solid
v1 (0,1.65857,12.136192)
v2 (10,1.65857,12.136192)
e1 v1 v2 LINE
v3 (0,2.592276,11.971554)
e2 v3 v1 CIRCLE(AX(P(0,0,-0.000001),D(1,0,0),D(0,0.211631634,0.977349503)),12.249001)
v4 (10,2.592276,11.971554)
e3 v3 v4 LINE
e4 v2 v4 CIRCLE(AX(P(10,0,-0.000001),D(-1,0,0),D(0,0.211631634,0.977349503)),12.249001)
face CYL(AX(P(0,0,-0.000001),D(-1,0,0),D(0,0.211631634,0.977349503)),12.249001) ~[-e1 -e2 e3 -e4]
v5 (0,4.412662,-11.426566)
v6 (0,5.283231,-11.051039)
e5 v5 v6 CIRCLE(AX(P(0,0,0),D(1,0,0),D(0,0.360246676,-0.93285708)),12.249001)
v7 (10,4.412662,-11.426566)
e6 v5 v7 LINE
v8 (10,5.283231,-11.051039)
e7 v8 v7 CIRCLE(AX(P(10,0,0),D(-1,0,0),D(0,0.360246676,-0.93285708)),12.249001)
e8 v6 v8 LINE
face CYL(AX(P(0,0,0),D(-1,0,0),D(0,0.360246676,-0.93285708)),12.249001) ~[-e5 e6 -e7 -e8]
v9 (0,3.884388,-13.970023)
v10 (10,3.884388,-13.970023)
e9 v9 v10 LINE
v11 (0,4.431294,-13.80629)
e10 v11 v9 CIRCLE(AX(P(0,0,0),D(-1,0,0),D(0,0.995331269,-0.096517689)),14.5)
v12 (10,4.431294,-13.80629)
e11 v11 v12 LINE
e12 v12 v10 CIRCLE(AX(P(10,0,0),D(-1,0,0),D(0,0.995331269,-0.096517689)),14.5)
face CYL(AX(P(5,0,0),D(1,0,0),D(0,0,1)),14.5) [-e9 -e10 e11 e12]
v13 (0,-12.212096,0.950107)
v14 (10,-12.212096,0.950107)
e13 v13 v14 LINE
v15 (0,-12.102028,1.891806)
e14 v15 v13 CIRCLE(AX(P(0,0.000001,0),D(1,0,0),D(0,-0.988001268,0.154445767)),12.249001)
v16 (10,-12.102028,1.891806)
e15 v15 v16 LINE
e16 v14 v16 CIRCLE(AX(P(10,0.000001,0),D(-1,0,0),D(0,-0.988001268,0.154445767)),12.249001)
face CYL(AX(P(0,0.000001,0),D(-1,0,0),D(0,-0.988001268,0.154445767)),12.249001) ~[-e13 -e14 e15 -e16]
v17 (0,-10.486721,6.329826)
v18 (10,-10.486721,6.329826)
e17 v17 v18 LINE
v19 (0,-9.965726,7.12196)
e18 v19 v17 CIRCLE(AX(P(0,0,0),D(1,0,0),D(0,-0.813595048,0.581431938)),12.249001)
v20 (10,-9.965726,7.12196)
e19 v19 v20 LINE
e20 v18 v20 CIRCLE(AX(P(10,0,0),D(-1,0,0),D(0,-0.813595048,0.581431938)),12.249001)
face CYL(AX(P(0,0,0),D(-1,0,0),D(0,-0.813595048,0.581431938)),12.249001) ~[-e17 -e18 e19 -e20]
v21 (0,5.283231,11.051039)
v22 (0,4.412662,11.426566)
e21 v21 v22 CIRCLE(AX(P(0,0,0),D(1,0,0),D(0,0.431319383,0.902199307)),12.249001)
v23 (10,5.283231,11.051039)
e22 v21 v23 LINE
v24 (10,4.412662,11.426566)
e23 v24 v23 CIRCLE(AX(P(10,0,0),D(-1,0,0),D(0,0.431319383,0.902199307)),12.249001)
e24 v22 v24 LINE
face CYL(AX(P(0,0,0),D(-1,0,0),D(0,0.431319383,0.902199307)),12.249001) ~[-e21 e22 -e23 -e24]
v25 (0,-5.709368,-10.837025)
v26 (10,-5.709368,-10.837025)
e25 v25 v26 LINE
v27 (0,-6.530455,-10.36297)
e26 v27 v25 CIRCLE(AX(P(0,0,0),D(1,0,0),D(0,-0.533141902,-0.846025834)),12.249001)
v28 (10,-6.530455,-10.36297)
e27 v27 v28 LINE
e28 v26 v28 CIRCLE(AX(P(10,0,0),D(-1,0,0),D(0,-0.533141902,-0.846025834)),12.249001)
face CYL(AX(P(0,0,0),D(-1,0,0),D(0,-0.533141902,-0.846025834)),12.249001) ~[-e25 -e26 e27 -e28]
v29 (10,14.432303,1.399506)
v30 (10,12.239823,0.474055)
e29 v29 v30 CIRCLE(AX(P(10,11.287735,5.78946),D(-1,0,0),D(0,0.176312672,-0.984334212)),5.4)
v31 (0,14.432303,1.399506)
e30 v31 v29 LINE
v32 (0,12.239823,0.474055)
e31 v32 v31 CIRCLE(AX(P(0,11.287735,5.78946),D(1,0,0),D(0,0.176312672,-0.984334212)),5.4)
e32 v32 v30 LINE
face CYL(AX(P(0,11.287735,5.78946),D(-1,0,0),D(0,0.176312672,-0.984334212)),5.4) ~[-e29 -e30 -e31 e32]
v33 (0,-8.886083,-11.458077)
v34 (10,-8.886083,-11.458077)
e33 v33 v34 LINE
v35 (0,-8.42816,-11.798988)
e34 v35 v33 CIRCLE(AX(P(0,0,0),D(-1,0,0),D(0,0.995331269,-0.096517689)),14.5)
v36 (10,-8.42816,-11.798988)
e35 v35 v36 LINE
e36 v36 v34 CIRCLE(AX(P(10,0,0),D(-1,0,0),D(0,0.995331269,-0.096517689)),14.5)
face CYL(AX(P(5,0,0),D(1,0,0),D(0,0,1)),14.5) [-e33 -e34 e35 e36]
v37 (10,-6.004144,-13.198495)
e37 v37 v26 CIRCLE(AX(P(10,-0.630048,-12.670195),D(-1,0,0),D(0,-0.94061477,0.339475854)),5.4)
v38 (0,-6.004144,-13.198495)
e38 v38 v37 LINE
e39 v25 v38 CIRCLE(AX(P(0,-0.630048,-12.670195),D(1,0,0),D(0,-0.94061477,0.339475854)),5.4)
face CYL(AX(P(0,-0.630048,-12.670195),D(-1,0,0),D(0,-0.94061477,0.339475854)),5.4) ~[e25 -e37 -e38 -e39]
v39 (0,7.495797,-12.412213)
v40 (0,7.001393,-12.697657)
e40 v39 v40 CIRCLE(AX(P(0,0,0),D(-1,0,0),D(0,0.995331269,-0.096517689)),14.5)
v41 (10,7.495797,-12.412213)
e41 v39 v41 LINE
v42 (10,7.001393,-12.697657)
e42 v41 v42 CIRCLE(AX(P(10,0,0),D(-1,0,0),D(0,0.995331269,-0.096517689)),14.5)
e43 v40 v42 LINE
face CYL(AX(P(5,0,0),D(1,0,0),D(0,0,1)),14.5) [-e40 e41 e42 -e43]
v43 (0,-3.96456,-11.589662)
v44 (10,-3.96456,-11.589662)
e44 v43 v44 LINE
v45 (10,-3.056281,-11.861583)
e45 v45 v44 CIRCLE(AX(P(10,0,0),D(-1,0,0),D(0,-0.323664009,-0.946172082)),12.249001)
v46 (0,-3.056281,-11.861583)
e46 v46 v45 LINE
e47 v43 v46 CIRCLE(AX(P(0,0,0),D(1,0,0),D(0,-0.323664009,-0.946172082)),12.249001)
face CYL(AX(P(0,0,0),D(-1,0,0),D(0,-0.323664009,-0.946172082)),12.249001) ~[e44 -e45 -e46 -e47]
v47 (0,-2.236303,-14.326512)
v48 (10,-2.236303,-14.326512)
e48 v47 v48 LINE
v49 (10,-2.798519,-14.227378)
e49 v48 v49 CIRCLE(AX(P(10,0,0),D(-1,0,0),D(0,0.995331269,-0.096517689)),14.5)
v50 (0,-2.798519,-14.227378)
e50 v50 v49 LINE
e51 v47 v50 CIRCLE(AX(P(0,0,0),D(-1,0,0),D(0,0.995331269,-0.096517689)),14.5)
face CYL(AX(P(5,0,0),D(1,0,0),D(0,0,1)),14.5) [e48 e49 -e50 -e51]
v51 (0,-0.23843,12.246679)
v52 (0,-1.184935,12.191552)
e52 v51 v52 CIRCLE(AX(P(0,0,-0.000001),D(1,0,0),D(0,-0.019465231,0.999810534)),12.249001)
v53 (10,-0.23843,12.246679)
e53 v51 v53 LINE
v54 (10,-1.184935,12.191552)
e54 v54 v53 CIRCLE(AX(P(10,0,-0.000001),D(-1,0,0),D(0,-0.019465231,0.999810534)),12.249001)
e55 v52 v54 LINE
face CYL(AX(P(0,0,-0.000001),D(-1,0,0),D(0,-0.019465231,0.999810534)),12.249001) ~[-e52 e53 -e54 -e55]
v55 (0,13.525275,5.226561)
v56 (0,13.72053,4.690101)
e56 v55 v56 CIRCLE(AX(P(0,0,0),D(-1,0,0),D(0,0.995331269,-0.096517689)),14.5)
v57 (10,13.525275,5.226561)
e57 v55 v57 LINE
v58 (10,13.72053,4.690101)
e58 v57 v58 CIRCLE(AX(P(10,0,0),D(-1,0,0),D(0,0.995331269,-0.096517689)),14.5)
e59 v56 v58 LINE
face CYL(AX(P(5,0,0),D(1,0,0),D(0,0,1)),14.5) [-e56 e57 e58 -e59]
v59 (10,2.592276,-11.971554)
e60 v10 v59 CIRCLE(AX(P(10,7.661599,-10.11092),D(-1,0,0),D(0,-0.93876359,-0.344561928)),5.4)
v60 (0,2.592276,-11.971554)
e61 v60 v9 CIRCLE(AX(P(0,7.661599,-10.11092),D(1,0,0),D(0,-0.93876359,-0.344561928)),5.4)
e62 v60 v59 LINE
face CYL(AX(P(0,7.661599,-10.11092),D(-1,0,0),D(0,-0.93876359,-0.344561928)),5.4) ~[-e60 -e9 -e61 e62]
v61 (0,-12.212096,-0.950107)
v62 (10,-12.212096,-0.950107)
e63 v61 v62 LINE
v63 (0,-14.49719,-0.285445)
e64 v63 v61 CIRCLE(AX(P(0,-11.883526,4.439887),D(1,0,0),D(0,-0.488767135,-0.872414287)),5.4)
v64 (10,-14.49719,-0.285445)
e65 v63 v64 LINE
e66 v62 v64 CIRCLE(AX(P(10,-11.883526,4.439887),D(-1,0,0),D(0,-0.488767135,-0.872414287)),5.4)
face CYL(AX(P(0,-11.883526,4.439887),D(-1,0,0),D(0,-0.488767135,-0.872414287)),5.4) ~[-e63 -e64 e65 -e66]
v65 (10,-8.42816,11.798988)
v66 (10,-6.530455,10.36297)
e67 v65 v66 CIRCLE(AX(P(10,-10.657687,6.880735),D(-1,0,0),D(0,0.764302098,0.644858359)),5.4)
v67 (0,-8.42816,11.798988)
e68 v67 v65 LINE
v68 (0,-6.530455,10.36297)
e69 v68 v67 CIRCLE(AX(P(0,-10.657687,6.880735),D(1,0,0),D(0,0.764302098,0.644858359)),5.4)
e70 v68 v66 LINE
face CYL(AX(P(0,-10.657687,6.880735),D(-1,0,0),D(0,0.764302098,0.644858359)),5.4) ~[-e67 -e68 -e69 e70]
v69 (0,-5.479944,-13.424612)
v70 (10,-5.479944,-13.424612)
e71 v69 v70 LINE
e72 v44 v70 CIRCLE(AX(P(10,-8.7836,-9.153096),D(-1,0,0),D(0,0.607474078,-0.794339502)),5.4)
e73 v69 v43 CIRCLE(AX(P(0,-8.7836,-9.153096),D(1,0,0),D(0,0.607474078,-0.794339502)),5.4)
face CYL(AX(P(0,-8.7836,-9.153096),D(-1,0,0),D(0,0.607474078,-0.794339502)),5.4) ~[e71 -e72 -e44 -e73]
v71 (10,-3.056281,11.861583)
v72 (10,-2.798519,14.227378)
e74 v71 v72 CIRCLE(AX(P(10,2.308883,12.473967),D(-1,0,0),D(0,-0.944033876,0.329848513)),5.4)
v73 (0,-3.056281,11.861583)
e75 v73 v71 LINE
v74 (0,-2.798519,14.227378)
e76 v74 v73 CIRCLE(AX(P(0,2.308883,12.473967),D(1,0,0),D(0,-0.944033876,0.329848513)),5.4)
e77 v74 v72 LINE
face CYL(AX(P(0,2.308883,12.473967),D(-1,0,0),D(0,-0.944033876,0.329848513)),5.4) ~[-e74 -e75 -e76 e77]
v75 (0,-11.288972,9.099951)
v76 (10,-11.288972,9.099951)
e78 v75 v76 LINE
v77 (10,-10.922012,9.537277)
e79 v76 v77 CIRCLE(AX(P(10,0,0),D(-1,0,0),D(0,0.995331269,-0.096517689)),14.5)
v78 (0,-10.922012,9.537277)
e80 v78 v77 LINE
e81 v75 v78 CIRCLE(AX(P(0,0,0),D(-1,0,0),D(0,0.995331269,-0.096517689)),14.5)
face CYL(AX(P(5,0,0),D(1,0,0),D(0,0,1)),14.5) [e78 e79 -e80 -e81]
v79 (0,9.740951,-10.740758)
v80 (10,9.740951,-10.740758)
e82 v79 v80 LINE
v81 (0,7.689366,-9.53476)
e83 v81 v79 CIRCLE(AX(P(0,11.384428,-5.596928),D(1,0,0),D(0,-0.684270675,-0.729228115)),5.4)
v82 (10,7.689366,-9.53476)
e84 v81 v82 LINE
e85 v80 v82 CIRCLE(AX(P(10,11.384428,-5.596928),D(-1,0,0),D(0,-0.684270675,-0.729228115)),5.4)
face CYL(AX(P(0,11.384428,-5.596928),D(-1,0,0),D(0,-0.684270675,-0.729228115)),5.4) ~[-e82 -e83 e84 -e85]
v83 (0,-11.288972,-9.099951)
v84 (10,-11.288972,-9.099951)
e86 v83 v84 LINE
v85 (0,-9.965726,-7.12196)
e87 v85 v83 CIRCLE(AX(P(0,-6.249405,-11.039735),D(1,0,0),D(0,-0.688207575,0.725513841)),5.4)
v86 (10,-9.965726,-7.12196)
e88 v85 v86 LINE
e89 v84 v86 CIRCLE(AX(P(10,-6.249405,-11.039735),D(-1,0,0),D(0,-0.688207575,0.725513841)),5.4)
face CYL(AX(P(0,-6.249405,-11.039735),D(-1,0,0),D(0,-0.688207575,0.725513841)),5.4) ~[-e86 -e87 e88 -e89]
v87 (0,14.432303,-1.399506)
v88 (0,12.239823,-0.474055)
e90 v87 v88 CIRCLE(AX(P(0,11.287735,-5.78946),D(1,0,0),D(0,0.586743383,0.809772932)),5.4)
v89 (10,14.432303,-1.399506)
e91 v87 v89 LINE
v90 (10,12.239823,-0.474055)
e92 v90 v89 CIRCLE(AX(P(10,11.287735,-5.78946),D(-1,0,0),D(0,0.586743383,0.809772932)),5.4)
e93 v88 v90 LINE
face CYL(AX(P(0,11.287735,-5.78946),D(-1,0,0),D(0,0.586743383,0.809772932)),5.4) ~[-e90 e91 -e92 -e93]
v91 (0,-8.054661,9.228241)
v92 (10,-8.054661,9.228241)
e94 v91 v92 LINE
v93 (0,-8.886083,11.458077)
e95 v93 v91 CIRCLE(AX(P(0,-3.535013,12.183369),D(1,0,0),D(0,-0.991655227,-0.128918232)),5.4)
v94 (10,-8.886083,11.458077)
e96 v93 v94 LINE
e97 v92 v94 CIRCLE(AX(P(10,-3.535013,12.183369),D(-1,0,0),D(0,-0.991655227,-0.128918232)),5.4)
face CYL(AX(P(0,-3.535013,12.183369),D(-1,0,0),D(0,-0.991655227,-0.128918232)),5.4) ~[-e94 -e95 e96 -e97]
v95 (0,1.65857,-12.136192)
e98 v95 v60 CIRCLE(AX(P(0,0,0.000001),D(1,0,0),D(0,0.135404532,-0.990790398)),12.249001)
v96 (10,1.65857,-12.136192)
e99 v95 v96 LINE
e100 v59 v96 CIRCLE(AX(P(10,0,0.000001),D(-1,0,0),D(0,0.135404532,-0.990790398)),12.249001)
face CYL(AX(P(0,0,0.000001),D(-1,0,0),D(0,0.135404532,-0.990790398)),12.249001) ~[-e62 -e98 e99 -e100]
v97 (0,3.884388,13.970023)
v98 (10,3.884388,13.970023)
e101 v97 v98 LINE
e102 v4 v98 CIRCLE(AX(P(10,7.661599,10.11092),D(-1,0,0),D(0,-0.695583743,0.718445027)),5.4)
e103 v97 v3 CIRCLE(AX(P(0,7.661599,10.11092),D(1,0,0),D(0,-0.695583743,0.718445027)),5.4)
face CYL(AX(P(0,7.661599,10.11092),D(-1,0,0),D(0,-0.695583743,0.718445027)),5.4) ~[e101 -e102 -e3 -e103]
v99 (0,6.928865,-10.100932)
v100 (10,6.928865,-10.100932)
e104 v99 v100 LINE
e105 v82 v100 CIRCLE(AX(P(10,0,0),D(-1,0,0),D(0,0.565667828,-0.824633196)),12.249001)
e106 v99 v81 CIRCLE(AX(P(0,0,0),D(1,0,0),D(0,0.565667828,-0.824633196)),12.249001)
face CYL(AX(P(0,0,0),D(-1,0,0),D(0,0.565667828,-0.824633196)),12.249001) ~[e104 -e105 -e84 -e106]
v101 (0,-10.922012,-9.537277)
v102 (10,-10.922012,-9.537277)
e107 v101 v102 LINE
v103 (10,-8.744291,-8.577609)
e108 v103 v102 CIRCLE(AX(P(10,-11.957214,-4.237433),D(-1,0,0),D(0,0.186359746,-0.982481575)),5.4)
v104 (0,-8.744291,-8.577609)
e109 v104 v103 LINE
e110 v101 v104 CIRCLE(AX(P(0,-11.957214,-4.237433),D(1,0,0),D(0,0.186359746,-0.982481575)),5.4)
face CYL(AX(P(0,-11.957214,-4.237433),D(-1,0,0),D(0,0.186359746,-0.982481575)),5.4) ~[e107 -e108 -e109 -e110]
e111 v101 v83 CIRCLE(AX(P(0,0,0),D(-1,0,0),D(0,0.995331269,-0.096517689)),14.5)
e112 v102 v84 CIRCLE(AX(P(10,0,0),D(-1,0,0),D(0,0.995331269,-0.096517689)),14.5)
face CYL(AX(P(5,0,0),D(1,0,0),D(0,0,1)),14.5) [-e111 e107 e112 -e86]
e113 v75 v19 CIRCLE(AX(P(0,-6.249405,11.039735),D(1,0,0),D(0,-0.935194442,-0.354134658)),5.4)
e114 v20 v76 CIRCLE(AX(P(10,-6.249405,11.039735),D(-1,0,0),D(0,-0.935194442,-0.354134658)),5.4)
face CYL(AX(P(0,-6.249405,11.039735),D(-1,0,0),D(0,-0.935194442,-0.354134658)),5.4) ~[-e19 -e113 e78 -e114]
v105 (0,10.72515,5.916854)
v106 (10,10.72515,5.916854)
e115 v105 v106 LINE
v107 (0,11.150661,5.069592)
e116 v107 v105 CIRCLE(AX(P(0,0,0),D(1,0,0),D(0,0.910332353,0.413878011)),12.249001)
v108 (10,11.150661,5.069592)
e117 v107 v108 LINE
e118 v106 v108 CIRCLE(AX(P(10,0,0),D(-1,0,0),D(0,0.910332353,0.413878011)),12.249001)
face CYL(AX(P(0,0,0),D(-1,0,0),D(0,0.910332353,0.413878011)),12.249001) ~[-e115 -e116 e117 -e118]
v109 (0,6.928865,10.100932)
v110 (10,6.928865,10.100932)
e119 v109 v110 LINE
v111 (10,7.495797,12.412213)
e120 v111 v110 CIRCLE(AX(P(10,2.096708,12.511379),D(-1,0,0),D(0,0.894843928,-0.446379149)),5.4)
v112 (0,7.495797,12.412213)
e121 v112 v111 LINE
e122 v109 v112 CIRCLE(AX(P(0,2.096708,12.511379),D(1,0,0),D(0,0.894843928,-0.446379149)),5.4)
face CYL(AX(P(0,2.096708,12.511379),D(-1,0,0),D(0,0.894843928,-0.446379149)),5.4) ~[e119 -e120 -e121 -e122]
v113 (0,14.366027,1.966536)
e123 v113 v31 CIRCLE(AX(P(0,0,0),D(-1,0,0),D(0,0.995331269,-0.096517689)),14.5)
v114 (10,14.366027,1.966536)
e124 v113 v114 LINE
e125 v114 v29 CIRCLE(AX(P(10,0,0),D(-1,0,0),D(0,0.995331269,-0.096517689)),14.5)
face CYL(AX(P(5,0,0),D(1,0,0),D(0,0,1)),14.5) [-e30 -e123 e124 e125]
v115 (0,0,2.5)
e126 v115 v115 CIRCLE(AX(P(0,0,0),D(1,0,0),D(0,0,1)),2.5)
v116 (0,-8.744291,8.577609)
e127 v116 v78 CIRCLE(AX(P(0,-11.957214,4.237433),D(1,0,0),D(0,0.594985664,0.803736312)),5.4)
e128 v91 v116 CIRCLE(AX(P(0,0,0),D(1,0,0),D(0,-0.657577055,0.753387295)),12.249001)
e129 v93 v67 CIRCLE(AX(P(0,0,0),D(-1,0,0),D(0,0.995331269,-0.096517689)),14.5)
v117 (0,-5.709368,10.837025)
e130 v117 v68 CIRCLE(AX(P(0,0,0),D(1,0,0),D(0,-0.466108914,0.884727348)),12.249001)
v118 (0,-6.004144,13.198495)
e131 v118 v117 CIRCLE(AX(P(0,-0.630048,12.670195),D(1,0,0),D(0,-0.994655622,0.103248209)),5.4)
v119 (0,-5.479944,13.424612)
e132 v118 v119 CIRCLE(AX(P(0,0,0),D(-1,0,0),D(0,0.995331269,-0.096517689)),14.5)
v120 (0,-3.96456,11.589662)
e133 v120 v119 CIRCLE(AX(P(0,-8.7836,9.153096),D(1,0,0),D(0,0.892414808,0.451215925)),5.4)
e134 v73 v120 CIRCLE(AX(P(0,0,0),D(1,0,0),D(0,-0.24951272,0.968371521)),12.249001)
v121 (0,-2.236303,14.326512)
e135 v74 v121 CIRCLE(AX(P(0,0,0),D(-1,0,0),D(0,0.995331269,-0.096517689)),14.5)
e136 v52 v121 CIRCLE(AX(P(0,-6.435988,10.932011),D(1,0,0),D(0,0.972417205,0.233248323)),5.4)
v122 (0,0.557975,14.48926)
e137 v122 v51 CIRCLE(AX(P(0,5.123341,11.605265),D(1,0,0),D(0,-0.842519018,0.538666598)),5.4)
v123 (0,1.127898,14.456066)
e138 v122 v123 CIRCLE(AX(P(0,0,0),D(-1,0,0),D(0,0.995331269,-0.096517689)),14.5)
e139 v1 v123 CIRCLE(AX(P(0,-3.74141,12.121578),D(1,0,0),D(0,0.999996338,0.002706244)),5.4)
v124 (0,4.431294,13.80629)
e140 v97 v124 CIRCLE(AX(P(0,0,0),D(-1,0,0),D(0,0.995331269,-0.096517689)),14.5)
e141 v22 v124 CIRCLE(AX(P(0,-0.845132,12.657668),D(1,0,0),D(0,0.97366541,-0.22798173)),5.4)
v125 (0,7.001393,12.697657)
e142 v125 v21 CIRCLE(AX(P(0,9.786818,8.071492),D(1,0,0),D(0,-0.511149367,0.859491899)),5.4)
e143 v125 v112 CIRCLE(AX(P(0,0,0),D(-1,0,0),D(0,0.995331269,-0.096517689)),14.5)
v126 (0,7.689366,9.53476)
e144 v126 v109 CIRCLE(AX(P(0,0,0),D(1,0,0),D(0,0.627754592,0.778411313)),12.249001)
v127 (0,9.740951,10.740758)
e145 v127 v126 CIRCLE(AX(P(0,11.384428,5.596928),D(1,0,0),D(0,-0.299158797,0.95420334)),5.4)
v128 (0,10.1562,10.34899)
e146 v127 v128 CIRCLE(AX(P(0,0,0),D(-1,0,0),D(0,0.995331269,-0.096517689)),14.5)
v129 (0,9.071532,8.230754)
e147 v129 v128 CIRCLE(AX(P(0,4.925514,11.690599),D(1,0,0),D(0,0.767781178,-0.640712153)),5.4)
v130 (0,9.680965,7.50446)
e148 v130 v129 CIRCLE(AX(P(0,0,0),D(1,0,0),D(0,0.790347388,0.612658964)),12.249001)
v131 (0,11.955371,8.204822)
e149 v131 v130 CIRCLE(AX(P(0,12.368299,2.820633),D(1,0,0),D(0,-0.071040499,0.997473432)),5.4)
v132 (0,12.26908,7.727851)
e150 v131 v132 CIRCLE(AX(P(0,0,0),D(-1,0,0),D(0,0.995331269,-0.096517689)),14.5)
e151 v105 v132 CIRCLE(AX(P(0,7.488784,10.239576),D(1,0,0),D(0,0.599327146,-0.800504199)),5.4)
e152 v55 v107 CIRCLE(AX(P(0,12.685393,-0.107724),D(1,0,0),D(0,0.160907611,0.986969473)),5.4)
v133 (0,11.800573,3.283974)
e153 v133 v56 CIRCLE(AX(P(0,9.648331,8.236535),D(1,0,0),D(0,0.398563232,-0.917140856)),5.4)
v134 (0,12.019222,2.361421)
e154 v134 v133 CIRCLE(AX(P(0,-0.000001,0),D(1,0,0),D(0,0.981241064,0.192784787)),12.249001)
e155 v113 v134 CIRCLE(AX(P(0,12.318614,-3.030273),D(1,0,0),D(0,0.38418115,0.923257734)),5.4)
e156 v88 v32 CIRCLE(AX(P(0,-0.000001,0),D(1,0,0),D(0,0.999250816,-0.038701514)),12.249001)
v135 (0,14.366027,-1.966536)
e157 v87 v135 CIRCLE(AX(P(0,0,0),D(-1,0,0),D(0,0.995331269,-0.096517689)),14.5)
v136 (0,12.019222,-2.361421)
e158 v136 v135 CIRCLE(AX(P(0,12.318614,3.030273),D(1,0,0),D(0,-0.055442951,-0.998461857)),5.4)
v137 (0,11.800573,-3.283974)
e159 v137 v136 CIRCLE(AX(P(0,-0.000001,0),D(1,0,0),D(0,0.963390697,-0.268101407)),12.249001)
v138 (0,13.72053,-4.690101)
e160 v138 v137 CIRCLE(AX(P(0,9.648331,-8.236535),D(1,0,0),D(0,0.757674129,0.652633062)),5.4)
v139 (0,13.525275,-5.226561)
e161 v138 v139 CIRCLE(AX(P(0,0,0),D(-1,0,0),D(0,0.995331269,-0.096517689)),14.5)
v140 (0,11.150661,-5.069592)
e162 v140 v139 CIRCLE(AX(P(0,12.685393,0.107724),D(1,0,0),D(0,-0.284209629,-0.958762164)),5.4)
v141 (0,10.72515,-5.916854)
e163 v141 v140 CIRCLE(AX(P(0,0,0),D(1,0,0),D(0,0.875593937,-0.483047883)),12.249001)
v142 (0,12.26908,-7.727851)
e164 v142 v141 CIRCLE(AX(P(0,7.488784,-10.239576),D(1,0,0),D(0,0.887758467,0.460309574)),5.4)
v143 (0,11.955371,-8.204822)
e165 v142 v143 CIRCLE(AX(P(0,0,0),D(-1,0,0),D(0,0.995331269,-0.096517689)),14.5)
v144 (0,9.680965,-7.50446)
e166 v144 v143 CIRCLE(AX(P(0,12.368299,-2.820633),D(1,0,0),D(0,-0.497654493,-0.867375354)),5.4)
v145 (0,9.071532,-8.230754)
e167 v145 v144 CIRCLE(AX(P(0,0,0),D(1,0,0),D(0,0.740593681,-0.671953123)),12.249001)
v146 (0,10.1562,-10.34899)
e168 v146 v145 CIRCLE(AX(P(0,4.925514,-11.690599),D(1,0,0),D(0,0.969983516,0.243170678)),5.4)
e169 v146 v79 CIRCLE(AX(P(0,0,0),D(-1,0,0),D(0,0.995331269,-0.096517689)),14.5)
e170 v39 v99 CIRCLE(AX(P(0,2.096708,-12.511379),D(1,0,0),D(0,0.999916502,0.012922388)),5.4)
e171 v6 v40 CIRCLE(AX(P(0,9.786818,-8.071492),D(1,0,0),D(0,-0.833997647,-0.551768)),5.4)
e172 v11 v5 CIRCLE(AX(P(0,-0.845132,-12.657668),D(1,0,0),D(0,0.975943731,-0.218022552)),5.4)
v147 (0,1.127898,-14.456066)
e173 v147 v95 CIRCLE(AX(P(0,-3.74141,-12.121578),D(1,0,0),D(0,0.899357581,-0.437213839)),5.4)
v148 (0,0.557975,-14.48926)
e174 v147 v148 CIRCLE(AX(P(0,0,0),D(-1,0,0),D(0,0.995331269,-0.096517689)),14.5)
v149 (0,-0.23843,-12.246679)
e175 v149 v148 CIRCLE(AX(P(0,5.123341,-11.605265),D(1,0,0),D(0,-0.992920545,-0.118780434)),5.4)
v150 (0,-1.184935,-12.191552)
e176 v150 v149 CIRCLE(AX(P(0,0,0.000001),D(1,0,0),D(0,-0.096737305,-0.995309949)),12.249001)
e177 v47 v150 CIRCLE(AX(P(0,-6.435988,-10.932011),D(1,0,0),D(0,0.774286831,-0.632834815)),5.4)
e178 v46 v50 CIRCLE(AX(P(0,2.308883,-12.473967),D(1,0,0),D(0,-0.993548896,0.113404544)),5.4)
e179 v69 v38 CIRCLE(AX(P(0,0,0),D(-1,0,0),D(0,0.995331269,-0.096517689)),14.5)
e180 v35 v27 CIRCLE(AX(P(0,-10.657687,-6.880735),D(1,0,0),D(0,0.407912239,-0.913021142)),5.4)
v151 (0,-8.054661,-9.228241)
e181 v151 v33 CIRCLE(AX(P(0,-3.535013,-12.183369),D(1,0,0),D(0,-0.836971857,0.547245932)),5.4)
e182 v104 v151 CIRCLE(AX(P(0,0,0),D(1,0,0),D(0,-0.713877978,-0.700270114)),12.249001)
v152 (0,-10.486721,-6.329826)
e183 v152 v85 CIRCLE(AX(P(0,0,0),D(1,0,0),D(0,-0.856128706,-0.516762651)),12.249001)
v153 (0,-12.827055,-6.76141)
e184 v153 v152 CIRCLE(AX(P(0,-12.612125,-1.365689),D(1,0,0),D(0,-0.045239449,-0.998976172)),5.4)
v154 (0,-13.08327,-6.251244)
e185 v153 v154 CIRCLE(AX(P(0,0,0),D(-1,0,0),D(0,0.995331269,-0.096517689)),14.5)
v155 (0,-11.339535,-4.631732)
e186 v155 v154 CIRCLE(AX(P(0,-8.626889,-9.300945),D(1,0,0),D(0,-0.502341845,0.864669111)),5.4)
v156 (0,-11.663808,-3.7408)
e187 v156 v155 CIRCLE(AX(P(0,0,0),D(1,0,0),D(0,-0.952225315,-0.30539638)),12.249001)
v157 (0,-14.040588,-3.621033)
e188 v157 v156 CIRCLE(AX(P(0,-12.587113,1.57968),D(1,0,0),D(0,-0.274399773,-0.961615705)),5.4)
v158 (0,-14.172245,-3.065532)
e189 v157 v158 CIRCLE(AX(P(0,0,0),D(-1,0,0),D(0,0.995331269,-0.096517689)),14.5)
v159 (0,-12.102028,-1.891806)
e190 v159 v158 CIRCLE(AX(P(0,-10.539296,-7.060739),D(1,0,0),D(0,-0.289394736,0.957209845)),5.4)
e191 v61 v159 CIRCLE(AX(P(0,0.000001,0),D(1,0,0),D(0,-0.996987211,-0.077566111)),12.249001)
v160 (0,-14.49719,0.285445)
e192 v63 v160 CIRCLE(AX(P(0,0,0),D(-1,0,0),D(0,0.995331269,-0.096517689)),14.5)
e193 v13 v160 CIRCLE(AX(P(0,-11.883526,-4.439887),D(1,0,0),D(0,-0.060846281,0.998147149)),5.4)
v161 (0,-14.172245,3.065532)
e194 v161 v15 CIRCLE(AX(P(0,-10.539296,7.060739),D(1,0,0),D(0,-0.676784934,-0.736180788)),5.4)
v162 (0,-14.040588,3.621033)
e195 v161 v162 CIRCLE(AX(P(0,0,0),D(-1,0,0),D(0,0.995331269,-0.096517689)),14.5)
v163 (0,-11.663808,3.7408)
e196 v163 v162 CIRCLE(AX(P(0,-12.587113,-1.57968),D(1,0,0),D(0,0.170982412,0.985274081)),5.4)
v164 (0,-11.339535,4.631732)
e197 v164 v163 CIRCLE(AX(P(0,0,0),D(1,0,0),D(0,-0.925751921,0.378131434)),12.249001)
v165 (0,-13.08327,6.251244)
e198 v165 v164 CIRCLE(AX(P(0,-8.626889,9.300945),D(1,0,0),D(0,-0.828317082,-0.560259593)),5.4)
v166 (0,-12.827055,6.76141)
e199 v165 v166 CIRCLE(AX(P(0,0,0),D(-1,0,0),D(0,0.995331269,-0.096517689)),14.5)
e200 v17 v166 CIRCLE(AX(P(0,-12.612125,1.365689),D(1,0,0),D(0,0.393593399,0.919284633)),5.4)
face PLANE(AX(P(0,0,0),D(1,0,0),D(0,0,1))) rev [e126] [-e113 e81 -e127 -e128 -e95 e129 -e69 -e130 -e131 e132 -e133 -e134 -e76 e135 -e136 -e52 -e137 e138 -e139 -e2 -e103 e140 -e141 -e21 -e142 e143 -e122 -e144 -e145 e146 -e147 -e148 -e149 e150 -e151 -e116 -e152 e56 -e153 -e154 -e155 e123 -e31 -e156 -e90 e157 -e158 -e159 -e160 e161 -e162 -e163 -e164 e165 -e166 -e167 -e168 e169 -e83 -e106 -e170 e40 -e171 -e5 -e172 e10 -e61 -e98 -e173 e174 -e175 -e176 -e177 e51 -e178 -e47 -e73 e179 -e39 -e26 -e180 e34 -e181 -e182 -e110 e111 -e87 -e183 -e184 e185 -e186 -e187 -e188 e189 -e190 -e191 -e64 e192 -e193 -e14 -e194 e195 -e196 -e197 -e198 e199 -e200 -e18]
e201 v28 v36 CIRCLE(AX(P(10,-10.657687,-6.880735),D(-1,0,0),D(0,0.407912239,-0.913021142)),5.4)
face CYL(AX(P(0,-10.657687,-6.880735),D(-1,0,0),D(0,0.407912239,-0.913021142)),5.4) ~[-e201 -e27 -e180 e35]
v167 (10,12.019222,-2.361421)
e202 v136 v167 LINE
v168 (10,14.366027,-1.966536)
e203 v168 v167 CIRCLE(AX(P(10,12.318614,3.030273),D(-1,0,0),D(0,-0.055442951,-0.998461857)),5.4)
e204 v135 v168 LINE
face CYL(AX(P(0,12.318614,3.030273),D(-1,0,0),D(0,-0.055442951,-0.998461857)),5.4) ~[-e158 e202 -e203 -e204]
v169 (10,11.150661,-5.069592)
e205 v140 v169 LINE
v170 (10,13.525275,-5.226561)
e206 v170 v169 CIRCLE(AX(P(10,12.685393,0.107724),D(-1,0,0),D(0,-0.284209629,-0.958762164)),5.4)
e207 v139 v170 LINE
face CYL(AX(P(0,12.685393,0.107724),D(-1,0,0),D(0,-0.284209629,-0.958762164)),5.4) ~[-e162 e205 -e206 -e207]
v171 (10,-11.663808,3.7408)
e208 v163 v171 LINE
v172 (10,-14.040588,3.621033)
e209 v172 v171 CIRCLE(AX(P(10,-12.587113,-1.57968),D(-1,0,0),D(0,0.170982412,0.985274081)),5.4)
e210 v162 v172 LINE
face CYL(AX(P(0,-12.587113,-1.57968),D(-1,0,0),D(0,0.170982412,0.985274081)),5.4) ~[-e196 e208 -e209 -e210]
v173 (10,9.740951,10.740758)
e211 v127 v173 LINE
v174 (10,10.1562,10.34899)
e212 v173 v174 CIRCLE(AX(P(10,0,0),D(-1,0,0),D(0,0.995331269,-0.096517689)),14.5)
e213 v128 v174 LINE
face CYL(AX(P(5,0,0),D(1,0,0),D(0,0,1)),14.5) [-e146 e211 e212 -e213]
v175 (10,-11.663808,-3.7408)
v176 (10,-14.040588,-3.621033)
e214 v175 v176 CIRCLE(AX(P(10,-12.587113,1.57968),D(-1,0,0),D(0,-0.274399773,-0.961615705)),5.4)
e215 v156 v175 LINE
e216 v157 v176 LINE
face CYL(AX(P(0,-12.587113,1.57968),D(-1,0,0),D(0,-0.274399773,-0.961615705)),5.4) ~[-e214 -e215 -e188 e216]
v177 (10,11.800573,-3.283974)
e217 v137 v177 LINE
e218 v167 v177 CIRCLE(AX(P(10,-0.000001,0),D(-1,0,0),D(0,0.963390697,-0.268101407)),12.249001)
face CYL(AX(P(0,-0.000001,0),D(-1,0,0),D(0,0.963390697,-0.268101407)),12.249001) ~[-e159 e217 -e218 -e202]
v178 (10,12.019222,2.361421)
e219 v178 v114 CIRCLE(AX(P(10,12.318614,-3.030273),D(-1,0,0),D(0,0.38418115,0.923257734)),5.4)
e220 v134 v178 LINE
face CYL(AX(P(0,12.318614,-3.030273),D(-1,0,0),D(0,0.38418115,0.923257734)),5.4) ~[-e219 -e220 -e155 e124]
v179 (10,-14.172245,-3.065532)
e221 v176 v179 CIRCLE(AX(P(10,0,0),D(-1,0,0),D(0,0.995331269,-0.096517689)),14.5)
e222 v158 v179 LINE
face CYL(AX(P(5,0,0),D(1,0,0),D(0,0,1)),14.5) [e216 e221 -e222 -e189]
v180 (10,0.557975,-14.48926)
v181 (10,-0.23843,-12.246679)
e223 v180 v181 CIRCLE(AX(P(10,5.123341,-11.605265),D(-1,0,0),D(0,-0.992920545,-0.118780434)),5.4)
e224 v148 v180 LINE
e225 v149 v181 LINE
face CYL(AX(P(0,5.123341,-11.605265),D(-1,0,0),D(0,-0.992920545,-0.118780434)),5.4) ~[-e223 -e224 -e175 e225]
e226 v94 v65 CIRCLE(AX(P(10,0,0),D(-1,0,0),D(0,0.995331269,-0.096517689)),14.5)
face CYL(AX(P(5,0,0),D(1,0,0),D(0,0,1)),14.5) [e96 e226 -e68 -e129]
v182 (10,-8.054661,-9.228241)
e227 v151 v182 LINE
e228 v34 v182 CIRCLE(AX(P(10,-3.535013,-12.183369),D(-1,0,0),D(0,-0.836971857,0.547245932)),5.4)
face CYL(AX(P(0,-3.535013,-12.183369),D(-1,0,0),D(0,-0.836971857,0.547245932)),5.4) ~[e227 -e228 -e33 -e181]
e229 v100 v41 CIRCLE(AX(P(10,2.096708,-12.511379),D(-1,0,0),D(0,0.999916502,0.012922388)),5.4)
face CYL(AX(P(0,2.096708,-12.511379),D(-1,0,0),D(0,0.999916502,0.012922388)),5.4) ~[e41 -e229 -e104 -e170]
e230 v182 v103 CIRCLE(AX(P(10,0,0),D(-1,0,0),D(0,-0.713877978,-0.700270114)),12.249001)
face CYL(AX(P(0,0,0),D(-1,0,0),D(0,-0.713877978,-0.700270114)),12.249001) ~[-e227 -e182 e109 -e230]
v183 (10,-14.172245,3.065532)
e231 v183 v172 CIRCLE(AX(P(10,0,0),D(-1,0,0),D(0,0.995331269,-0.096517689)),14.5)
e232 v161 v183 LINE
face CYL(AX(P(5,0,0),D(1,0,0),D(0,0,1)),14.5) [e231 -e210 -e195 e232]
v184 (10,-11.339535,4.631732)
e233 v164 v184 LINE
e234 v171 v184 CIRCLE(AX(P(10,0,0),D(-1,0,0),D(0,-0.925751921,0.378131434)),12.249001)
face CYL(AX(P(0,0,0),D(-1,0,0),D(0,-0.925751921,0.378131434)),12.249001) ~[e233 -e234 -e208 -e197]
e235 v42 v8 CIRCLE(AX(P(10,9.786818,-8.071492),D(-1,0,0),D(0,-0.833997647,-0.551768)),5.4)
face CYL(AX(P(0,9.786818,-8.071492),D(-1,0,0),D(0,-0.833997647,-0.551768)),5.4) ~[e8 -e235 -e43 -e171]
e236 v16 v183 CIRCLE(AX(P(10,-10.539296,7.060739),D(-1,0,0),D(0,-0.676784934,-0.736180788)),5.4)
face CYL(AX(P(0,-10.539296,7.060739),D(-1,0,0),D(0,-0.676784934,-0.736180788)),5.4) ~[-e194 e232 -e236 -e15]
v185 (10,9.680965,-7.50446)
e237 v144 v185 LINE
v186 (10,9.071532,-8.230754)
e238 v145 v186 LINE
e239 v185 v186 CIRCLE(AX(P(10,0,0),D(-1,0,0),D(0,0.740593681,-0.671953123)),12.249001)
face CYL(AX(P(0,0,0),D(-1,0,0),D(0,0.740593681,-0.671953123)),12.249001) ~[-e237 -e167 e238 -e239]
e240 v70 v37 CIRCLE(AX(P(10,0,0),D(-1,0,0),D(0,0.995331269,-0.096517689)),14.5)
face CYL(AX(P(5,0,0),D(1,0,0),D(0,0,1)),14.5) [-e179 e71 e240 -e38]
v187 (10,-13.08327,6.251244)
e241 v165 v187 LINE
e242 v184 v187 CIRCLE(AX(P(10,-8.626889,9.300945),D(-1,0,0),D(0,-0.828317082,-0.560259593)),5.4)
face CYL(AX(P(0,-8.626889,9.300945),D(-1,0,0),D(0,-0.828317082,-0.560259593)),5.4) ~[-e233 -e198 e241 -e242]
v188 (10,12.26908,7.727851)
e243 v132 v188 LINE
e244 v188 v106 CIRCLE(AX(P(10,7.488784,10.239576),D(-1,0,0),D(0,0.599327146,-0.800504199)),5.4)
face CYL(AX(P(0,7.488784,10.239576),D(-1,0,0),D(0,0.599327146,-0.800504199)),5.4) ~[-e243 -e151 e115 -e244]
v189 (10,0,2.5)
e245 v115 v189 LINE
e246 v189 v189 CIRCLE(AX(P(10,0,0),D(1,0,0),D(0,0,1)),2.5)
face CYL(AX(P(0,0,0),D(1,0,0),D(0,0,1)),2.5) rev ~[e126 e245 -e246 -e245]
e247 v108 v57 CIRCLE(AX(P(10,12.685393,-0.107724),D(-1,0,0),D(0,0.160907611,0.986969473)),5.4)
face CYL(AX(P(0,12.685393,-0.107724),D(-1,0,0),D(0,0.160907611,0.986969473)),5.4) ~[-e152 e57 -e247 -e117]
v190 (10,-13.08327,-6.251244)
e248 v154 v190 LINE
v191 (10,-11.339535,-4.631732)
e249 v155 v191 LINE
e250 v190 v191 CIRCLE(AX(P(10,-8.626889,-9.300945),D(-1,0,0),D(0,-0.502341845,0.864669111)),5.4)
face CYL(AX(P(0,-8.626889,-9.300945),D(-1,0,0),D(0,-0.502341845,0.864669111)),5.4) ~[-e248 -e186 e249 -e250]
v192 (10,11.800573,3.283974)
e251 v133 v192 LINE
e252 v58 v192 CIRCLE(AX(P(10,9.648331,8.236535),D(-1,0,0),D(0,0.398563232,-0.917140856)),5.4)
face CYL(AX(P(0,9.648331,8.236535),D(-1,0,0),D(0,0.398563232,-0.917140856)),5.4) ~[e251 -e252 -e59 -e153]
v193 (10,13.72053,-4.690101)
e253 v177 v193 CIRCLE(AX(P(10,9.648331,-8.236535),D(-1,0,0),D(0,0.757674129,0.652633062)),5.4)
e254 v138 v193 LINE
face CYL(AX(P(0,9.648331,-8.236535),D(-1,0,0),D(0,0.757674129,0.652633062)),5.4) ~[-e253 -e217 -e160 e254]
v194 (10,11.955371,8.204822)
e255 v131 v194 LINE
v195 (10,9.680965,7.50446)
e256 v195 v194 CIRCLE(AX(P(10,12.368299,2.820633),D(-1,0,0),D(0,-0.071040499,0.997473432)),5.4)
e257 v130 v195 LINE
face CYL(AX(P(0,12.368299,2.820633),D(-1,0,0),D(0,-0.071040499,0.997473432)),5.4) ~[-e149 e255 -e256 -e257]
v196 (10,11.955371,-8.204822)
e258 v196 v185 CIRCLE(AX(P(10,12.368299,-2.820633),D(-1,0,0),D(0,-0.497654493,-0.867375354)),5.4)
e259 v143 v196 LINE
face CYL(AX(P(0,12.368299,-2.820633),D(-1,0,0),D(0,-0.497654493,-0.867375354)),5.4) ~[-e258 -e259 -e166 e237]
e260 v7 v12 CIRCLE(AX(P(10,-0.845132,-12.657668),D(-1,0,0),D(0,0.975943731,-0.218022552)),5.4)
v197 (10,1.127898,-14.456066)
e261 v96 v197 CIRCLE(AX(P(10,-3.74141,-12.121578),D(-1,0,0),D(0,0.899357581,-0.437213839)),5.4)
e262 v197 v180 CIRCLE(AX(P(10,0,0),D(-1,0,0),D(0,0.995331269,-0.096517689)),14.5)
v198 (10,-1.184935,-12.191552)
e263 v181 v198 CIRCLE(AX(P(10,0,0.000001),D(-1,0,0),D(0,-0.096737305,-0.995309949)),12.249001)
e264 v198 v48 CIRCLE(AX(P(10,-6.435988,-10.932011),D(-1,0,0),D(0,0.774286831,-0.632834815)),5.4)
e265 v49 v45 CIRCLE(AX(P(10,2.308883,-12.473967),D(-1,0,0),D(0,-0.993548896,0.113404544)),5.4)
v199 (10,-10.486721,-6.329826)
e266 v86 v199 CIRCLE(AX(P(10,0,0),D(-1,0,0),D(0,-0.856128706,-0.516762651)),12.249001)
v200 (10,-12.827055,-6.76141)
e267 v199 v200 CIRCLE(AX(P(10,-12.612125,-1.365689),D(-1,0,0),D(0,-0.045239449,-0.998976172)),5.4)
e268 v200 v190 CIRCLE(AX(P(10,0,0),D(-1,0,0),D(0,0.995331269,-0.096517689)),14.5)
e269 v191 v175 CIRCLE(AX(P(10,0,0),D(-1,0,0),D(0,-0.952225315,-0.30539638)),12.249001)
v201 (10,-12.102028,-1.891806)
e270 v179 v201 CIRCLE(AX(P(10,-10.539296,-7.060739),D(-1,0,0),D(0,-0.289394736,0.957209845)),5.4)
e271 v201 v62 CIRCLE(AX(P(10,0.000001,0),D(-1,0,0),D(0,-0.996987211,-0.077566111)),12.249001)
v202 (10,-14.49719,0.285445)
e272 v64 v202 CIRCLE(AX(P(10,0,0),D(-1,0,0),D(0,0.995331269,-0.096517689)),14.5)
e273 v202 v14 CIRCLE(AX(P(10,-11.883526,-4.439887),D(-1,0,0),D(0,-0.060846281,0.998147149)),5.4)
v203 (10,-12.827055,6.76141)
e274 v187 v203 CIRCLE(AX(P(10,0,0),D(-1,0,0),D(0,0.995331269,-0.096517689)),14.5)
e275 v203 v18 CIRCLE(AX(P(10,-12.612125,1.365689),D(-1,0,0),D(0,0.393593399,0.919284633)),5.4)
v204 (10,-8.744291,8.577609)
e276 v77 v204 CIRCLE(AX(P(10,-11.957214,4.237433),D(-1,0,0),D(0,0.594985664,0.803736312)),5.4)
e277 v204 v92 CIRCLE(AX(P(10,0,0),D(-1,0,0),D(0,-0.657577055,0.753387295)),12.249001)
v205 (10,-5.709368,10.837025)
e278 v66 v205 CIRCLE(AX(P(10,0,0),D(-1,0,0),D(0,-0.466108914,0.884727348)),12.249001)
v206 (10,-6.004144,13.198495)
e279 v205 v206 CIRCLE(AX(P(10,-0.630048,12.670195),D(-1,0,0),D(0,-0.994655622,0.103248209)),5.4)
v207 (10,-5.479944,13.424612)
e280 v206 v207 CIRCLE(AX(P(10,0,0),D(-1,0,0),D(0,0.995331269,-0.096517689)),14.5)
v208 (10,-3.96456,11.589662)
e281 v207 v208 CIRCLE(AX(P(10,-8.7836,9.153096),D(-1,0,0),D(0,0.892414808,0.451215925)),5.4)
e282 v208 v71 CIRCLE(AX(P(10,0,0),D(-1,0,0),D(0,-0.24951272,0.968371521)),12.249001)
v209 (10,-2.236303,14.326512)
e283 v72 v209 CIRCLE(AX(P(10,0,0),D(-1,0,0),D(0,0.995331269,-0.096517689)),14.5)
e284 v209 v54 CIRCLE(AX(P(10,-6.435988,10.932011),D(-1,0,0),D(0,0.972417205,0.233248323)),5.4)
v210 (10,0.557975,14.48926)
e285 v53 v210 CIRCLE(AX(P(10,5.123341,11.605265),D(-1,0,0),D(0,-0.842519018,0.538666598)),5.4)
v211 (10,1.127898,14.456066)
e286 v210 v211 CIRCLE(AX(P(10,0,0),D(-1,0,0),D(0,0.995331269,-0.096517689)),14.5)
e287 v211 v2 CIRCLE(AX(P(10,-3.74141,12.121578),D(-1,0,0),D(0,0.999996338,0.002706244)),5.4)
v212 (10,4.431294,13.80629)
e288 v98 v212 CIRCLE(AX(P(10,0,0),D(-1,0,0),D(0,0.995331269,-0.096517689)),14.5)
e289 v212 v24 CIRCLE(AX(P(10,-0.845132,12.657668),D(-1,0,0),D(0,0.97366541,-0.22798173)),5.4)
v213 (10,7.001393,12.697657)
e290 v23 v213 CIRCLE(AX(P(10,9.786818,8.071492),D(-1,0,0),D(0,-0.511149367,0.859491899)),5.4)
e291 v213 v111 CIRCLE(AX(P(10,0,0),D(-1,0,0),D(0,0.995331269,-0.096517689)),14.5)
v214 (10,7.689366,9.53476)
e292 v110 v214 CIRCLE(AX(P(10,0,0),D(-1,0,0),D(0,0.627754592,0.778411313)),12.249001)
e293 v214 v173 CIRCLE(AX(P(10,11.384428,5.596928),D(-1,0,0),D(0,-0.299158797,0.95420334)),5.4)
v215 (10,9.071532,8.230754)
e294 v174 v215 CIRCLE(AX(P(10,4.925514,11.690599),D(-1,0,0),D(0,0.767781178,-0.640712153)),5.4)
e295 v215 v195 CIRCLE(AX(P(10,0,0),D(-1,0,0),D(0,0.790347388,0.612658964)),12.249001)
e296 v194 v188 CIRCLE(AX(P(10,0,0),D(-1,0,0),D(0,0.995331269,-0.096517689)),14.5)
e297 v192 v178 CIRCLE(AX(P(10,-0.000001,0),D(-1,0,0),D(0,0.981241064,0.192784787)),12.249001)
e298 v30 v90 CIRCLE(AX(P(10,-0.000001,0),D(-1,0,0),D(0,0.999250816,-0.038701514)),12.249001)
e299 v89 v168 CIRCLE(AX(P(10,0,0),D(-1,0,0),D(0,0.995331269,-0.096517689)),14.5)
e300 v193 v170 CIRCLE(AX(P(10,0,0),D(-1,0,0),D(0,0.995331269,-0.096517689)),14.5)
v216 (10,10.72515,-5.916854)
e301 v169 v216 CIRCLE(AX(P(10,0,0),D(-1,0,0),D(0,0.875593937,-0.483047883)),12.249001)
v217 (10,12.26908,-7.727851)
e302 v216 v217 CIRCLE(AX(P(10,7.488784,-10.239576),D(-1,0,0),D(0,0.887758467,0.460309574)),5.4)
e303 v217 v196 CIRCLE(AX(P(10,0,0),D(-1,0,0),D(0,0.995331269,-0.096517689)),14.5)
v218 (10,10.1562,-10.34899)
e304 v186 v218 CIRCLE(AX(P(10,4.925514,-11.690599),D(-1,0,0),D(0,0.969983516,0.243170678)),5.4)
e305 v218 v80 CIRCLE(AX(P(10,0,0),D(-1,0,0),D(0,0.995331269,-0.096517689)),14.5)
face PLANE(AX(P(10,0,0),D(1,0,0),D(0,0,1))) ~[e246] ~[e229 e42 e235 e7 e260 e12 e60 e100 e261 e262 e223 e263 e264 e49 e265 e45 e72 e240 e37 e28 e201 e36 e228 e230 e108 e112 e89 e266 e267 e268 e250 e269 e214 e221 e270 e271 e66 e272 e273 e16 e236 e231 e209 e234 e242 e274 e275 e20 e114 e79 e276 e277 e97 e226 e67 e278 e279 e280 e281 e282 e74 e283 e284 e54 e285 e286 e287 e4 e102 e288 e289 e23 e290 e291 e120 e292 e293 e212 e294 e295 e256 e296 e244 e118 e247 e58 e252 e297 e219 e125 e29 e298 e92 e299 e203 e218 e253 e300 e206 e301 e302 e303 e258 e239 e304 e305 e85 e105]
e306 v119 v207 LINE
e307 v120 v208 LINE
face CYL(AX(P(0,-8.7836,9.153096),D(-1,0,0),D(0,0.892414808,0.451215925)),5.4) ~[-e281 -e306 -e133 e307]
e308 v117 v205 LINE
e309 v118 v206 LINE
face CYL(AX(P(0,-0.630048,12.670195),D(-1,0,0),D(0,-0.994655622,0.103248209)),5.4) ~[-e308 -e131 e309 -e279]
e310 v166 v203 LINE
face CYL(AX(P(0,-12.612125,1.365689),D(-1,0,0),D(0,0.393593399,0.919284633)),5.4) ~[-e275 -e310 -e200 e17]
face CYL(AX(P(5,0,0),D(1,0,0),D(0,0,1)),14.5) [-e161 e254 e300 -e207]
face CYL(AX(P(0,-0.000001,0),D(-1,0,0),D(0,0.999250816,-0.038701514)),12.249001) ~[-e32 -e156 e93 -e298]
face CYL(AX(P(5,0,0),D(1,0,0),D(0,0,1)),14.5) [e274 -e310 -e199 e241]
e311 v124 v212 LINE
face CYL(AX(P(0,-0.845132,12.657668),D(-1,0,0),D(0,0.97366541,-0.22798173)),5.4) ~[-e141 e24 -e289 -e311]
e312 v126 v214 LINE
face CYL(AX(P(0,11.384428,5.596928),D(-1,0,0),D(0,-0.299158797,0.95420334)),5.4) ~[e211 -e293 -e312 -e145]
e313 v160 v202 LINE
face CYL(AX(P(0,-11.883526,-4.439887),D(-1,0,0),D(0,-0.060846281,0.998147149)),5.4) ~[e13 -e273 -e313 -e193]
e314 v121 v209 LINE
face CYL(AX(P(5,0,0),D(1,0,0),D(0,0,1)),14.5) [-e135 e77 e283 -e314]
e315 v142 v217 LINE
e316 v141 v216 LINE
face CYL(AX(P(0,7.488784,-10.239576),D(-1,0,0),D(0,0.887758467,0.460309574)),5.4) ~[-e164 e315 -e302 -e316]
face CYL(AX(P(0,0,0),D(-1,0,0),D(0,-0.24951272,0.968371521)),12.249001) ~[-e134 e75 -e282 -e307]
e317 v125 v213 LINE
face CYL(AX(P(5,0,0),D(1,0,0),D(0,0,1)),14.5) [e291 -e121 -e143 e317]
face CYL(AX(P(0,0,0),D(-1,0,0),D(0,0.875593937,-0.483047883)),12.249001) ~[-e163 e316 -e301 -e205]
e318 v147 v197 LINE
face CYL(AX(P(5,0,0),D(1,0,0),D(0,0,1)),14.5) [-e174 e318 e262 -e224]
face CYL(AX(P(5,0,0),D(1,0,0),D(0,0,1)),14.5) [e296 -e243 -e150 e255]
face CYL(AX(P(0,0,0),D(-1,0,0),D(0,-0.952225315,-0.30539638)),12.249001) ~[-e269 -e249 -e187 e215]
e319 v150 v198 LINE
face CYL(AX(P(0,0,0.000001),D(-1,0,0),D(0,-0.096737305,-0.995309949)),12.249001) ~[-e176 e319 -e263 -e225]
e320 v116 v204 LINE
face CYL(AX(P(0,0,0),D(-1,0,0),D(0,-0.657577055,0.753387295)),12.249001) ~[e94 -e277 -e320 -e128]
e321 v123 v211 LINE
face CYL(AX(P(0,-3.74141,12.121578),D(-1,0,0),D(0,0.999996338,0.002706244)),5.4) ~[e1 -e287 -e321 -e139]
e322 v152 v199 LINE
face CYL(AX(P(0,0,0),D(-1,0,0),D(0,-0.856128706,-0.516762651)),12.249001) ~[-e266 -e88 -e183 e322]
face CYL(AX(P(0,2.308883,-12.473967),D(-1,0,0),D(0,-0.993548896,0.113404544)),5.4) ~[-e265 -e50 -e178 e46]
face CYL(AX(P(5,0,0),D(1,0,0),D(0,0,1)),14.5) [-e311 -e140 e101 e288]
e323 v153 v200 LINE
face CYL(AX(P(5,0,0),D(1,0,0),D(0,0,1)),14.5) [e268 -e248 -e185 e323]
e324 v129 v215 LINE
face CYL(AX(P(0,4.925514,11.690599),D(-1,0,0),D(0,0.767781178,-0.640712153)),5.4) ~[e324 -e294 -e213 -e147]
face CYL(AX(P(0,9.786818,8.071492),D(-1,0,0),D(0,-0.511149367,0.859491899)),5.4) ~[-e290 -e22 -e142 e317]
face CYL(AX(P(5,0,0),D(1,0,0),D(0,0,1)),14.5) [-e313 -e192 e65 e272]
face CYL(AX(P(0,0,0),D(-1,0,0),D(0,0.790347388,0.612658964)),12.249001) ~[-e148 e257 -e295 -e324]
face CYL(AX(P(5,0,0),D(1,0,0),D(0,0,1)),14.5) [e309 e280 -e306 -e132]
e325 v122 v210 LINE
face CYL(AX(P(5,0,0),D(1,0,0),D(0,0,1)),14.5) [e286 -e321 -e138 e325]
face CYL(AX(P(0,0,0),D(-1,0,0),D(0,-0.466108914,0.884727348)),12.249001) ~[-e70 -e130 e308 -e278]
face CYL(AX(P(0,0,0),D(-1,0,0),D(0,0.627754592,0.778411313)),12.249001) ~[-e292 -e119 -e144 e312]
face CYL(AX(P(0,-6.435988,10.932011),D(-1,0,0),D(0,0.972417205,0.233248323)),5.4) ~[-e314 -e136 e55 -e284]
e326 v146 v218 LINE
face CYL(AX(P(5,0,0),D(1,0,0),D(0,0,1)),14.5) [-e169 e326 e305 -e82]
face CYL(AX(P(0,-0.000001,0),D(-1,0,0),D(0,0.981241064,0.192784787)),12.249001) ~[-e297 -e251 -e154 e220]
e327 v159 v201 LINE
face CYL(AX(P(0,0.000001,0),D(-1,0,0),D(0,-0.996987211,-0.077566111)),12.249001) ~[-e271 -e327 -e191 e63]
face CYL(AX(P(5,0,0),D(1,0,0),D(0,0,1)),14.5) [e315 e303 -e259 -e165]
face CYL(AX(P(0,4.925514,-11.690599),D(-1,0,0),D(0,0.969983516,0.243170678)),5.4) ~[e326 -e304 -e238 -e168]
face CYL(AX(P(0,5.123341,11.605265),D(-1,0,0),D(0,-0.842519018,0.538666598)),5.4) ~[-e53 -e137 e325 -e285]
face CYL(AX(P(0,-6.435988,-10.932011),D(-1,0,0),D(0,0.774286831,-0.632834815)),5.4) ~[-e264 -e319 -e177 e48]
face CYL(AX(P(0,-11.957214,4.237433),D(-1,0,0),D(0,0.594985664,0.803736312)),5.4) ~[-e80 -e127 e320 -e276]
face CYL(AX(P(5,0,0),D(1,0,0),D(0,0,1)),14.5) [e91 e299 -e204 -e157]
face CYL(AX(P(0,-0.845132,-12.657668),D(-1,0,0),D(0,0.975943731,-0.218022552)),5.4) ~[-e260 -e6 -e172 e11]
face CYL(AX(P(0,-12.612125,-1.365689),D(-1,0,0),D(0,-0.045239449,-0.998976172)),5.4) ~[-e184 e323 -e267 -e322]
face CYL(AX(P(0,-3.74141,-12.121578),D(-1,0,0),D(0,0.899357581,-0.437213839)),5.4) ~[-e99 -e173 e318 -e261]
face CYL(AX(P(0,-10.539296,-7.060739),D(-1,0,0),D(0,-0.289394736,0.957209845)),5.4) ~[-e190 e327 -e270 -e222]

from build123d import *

# Parameters (mm, degrees)
BASPROSKE_W     = 10
BASPROSKE_H     = 14.5
TOOTHCUT_DEPTH  = 23.814469093
TEETHCUTS_COUNT = 27
TEETHCUTS_ANGLE = 346.666666667
BORSKE_R        = 2.5
BORE_DEPTH      = 50.0000508


with BuildPart() as part:
    # BasProSke → Base-Revolve (revolve)
    with BuildSketch(Plane(origin=(0, 0, 0), x_dir=(1, 0, 0), z_dir=(0, 1, 0)), mode=Mode.PRIVATE) as base_revolve_sk:
        with Locations((5, 7.25)):
            Rectangle(BASPROSKE_W, BASPROSKE_H)
    revolve(base_revolve_sk.sketch.rotate(Axis((-10, 0, 0), (1, 0, 0)), 180), axis=Axis((-10, 0, 0), (1, 0, 0)))

    # TooCutSke → ToothCut (cut, through all)
    with BuildSketch(Plane(origin=(0, 0, 0), x_dir=(0, 0, -1), z_dir=(1, 0, 0))):
        with BuildLine():
            ThreePointArc((0.474054864, 12.239823242), (0, 12.249), (-0.474054864, 12.239823242))
            ThreePointArc((-0.474054864, 12.239823242), (-0.820231692, 13.40120918), (-1.416685779, 14.456149092))
            ThreePointArc((-1.416685779, 14.456149092), (0, 14.5254), (1.416685779, 14.456149092))
            ThreePointArc((1.416685779, 14.456149092), (0.820231692, 13.40120918), (0.474054864, 12.239823242))
        make_face()
    toothcut = extrude(amount=TOOTHCUT_DEPTH, mode=Mode.SUBTRACT)

    # TeethCuts: ToothCut ×27 about axis
    teethcuts_axis = Axis((-10, 0, 0), (1, 0, 0))
    for i in range(1, TEETHCUTS_COUNT):
        add(toothcut.rotate(teethcuts_axis, i * TEETHCUTS_ANGLE / (TEETHCUTS_COUNT - 1)), mode=Mode.SUBTRACT)

    # BorSke → Bore (cut, symmetric)
    with BuildSketch(Plane(origin=(0, 0, 0), x_dir=(0, 0, -1), z_dir=(1, 0, 0))):
        with Locations(Location((0, 0, 0), (0, 0, 180))):
            Circle(BORSKE_R)
    extrude(amount=BORE_DEPTH, both=True, mode=Mode.SUBTRACT)


solid = part.part
